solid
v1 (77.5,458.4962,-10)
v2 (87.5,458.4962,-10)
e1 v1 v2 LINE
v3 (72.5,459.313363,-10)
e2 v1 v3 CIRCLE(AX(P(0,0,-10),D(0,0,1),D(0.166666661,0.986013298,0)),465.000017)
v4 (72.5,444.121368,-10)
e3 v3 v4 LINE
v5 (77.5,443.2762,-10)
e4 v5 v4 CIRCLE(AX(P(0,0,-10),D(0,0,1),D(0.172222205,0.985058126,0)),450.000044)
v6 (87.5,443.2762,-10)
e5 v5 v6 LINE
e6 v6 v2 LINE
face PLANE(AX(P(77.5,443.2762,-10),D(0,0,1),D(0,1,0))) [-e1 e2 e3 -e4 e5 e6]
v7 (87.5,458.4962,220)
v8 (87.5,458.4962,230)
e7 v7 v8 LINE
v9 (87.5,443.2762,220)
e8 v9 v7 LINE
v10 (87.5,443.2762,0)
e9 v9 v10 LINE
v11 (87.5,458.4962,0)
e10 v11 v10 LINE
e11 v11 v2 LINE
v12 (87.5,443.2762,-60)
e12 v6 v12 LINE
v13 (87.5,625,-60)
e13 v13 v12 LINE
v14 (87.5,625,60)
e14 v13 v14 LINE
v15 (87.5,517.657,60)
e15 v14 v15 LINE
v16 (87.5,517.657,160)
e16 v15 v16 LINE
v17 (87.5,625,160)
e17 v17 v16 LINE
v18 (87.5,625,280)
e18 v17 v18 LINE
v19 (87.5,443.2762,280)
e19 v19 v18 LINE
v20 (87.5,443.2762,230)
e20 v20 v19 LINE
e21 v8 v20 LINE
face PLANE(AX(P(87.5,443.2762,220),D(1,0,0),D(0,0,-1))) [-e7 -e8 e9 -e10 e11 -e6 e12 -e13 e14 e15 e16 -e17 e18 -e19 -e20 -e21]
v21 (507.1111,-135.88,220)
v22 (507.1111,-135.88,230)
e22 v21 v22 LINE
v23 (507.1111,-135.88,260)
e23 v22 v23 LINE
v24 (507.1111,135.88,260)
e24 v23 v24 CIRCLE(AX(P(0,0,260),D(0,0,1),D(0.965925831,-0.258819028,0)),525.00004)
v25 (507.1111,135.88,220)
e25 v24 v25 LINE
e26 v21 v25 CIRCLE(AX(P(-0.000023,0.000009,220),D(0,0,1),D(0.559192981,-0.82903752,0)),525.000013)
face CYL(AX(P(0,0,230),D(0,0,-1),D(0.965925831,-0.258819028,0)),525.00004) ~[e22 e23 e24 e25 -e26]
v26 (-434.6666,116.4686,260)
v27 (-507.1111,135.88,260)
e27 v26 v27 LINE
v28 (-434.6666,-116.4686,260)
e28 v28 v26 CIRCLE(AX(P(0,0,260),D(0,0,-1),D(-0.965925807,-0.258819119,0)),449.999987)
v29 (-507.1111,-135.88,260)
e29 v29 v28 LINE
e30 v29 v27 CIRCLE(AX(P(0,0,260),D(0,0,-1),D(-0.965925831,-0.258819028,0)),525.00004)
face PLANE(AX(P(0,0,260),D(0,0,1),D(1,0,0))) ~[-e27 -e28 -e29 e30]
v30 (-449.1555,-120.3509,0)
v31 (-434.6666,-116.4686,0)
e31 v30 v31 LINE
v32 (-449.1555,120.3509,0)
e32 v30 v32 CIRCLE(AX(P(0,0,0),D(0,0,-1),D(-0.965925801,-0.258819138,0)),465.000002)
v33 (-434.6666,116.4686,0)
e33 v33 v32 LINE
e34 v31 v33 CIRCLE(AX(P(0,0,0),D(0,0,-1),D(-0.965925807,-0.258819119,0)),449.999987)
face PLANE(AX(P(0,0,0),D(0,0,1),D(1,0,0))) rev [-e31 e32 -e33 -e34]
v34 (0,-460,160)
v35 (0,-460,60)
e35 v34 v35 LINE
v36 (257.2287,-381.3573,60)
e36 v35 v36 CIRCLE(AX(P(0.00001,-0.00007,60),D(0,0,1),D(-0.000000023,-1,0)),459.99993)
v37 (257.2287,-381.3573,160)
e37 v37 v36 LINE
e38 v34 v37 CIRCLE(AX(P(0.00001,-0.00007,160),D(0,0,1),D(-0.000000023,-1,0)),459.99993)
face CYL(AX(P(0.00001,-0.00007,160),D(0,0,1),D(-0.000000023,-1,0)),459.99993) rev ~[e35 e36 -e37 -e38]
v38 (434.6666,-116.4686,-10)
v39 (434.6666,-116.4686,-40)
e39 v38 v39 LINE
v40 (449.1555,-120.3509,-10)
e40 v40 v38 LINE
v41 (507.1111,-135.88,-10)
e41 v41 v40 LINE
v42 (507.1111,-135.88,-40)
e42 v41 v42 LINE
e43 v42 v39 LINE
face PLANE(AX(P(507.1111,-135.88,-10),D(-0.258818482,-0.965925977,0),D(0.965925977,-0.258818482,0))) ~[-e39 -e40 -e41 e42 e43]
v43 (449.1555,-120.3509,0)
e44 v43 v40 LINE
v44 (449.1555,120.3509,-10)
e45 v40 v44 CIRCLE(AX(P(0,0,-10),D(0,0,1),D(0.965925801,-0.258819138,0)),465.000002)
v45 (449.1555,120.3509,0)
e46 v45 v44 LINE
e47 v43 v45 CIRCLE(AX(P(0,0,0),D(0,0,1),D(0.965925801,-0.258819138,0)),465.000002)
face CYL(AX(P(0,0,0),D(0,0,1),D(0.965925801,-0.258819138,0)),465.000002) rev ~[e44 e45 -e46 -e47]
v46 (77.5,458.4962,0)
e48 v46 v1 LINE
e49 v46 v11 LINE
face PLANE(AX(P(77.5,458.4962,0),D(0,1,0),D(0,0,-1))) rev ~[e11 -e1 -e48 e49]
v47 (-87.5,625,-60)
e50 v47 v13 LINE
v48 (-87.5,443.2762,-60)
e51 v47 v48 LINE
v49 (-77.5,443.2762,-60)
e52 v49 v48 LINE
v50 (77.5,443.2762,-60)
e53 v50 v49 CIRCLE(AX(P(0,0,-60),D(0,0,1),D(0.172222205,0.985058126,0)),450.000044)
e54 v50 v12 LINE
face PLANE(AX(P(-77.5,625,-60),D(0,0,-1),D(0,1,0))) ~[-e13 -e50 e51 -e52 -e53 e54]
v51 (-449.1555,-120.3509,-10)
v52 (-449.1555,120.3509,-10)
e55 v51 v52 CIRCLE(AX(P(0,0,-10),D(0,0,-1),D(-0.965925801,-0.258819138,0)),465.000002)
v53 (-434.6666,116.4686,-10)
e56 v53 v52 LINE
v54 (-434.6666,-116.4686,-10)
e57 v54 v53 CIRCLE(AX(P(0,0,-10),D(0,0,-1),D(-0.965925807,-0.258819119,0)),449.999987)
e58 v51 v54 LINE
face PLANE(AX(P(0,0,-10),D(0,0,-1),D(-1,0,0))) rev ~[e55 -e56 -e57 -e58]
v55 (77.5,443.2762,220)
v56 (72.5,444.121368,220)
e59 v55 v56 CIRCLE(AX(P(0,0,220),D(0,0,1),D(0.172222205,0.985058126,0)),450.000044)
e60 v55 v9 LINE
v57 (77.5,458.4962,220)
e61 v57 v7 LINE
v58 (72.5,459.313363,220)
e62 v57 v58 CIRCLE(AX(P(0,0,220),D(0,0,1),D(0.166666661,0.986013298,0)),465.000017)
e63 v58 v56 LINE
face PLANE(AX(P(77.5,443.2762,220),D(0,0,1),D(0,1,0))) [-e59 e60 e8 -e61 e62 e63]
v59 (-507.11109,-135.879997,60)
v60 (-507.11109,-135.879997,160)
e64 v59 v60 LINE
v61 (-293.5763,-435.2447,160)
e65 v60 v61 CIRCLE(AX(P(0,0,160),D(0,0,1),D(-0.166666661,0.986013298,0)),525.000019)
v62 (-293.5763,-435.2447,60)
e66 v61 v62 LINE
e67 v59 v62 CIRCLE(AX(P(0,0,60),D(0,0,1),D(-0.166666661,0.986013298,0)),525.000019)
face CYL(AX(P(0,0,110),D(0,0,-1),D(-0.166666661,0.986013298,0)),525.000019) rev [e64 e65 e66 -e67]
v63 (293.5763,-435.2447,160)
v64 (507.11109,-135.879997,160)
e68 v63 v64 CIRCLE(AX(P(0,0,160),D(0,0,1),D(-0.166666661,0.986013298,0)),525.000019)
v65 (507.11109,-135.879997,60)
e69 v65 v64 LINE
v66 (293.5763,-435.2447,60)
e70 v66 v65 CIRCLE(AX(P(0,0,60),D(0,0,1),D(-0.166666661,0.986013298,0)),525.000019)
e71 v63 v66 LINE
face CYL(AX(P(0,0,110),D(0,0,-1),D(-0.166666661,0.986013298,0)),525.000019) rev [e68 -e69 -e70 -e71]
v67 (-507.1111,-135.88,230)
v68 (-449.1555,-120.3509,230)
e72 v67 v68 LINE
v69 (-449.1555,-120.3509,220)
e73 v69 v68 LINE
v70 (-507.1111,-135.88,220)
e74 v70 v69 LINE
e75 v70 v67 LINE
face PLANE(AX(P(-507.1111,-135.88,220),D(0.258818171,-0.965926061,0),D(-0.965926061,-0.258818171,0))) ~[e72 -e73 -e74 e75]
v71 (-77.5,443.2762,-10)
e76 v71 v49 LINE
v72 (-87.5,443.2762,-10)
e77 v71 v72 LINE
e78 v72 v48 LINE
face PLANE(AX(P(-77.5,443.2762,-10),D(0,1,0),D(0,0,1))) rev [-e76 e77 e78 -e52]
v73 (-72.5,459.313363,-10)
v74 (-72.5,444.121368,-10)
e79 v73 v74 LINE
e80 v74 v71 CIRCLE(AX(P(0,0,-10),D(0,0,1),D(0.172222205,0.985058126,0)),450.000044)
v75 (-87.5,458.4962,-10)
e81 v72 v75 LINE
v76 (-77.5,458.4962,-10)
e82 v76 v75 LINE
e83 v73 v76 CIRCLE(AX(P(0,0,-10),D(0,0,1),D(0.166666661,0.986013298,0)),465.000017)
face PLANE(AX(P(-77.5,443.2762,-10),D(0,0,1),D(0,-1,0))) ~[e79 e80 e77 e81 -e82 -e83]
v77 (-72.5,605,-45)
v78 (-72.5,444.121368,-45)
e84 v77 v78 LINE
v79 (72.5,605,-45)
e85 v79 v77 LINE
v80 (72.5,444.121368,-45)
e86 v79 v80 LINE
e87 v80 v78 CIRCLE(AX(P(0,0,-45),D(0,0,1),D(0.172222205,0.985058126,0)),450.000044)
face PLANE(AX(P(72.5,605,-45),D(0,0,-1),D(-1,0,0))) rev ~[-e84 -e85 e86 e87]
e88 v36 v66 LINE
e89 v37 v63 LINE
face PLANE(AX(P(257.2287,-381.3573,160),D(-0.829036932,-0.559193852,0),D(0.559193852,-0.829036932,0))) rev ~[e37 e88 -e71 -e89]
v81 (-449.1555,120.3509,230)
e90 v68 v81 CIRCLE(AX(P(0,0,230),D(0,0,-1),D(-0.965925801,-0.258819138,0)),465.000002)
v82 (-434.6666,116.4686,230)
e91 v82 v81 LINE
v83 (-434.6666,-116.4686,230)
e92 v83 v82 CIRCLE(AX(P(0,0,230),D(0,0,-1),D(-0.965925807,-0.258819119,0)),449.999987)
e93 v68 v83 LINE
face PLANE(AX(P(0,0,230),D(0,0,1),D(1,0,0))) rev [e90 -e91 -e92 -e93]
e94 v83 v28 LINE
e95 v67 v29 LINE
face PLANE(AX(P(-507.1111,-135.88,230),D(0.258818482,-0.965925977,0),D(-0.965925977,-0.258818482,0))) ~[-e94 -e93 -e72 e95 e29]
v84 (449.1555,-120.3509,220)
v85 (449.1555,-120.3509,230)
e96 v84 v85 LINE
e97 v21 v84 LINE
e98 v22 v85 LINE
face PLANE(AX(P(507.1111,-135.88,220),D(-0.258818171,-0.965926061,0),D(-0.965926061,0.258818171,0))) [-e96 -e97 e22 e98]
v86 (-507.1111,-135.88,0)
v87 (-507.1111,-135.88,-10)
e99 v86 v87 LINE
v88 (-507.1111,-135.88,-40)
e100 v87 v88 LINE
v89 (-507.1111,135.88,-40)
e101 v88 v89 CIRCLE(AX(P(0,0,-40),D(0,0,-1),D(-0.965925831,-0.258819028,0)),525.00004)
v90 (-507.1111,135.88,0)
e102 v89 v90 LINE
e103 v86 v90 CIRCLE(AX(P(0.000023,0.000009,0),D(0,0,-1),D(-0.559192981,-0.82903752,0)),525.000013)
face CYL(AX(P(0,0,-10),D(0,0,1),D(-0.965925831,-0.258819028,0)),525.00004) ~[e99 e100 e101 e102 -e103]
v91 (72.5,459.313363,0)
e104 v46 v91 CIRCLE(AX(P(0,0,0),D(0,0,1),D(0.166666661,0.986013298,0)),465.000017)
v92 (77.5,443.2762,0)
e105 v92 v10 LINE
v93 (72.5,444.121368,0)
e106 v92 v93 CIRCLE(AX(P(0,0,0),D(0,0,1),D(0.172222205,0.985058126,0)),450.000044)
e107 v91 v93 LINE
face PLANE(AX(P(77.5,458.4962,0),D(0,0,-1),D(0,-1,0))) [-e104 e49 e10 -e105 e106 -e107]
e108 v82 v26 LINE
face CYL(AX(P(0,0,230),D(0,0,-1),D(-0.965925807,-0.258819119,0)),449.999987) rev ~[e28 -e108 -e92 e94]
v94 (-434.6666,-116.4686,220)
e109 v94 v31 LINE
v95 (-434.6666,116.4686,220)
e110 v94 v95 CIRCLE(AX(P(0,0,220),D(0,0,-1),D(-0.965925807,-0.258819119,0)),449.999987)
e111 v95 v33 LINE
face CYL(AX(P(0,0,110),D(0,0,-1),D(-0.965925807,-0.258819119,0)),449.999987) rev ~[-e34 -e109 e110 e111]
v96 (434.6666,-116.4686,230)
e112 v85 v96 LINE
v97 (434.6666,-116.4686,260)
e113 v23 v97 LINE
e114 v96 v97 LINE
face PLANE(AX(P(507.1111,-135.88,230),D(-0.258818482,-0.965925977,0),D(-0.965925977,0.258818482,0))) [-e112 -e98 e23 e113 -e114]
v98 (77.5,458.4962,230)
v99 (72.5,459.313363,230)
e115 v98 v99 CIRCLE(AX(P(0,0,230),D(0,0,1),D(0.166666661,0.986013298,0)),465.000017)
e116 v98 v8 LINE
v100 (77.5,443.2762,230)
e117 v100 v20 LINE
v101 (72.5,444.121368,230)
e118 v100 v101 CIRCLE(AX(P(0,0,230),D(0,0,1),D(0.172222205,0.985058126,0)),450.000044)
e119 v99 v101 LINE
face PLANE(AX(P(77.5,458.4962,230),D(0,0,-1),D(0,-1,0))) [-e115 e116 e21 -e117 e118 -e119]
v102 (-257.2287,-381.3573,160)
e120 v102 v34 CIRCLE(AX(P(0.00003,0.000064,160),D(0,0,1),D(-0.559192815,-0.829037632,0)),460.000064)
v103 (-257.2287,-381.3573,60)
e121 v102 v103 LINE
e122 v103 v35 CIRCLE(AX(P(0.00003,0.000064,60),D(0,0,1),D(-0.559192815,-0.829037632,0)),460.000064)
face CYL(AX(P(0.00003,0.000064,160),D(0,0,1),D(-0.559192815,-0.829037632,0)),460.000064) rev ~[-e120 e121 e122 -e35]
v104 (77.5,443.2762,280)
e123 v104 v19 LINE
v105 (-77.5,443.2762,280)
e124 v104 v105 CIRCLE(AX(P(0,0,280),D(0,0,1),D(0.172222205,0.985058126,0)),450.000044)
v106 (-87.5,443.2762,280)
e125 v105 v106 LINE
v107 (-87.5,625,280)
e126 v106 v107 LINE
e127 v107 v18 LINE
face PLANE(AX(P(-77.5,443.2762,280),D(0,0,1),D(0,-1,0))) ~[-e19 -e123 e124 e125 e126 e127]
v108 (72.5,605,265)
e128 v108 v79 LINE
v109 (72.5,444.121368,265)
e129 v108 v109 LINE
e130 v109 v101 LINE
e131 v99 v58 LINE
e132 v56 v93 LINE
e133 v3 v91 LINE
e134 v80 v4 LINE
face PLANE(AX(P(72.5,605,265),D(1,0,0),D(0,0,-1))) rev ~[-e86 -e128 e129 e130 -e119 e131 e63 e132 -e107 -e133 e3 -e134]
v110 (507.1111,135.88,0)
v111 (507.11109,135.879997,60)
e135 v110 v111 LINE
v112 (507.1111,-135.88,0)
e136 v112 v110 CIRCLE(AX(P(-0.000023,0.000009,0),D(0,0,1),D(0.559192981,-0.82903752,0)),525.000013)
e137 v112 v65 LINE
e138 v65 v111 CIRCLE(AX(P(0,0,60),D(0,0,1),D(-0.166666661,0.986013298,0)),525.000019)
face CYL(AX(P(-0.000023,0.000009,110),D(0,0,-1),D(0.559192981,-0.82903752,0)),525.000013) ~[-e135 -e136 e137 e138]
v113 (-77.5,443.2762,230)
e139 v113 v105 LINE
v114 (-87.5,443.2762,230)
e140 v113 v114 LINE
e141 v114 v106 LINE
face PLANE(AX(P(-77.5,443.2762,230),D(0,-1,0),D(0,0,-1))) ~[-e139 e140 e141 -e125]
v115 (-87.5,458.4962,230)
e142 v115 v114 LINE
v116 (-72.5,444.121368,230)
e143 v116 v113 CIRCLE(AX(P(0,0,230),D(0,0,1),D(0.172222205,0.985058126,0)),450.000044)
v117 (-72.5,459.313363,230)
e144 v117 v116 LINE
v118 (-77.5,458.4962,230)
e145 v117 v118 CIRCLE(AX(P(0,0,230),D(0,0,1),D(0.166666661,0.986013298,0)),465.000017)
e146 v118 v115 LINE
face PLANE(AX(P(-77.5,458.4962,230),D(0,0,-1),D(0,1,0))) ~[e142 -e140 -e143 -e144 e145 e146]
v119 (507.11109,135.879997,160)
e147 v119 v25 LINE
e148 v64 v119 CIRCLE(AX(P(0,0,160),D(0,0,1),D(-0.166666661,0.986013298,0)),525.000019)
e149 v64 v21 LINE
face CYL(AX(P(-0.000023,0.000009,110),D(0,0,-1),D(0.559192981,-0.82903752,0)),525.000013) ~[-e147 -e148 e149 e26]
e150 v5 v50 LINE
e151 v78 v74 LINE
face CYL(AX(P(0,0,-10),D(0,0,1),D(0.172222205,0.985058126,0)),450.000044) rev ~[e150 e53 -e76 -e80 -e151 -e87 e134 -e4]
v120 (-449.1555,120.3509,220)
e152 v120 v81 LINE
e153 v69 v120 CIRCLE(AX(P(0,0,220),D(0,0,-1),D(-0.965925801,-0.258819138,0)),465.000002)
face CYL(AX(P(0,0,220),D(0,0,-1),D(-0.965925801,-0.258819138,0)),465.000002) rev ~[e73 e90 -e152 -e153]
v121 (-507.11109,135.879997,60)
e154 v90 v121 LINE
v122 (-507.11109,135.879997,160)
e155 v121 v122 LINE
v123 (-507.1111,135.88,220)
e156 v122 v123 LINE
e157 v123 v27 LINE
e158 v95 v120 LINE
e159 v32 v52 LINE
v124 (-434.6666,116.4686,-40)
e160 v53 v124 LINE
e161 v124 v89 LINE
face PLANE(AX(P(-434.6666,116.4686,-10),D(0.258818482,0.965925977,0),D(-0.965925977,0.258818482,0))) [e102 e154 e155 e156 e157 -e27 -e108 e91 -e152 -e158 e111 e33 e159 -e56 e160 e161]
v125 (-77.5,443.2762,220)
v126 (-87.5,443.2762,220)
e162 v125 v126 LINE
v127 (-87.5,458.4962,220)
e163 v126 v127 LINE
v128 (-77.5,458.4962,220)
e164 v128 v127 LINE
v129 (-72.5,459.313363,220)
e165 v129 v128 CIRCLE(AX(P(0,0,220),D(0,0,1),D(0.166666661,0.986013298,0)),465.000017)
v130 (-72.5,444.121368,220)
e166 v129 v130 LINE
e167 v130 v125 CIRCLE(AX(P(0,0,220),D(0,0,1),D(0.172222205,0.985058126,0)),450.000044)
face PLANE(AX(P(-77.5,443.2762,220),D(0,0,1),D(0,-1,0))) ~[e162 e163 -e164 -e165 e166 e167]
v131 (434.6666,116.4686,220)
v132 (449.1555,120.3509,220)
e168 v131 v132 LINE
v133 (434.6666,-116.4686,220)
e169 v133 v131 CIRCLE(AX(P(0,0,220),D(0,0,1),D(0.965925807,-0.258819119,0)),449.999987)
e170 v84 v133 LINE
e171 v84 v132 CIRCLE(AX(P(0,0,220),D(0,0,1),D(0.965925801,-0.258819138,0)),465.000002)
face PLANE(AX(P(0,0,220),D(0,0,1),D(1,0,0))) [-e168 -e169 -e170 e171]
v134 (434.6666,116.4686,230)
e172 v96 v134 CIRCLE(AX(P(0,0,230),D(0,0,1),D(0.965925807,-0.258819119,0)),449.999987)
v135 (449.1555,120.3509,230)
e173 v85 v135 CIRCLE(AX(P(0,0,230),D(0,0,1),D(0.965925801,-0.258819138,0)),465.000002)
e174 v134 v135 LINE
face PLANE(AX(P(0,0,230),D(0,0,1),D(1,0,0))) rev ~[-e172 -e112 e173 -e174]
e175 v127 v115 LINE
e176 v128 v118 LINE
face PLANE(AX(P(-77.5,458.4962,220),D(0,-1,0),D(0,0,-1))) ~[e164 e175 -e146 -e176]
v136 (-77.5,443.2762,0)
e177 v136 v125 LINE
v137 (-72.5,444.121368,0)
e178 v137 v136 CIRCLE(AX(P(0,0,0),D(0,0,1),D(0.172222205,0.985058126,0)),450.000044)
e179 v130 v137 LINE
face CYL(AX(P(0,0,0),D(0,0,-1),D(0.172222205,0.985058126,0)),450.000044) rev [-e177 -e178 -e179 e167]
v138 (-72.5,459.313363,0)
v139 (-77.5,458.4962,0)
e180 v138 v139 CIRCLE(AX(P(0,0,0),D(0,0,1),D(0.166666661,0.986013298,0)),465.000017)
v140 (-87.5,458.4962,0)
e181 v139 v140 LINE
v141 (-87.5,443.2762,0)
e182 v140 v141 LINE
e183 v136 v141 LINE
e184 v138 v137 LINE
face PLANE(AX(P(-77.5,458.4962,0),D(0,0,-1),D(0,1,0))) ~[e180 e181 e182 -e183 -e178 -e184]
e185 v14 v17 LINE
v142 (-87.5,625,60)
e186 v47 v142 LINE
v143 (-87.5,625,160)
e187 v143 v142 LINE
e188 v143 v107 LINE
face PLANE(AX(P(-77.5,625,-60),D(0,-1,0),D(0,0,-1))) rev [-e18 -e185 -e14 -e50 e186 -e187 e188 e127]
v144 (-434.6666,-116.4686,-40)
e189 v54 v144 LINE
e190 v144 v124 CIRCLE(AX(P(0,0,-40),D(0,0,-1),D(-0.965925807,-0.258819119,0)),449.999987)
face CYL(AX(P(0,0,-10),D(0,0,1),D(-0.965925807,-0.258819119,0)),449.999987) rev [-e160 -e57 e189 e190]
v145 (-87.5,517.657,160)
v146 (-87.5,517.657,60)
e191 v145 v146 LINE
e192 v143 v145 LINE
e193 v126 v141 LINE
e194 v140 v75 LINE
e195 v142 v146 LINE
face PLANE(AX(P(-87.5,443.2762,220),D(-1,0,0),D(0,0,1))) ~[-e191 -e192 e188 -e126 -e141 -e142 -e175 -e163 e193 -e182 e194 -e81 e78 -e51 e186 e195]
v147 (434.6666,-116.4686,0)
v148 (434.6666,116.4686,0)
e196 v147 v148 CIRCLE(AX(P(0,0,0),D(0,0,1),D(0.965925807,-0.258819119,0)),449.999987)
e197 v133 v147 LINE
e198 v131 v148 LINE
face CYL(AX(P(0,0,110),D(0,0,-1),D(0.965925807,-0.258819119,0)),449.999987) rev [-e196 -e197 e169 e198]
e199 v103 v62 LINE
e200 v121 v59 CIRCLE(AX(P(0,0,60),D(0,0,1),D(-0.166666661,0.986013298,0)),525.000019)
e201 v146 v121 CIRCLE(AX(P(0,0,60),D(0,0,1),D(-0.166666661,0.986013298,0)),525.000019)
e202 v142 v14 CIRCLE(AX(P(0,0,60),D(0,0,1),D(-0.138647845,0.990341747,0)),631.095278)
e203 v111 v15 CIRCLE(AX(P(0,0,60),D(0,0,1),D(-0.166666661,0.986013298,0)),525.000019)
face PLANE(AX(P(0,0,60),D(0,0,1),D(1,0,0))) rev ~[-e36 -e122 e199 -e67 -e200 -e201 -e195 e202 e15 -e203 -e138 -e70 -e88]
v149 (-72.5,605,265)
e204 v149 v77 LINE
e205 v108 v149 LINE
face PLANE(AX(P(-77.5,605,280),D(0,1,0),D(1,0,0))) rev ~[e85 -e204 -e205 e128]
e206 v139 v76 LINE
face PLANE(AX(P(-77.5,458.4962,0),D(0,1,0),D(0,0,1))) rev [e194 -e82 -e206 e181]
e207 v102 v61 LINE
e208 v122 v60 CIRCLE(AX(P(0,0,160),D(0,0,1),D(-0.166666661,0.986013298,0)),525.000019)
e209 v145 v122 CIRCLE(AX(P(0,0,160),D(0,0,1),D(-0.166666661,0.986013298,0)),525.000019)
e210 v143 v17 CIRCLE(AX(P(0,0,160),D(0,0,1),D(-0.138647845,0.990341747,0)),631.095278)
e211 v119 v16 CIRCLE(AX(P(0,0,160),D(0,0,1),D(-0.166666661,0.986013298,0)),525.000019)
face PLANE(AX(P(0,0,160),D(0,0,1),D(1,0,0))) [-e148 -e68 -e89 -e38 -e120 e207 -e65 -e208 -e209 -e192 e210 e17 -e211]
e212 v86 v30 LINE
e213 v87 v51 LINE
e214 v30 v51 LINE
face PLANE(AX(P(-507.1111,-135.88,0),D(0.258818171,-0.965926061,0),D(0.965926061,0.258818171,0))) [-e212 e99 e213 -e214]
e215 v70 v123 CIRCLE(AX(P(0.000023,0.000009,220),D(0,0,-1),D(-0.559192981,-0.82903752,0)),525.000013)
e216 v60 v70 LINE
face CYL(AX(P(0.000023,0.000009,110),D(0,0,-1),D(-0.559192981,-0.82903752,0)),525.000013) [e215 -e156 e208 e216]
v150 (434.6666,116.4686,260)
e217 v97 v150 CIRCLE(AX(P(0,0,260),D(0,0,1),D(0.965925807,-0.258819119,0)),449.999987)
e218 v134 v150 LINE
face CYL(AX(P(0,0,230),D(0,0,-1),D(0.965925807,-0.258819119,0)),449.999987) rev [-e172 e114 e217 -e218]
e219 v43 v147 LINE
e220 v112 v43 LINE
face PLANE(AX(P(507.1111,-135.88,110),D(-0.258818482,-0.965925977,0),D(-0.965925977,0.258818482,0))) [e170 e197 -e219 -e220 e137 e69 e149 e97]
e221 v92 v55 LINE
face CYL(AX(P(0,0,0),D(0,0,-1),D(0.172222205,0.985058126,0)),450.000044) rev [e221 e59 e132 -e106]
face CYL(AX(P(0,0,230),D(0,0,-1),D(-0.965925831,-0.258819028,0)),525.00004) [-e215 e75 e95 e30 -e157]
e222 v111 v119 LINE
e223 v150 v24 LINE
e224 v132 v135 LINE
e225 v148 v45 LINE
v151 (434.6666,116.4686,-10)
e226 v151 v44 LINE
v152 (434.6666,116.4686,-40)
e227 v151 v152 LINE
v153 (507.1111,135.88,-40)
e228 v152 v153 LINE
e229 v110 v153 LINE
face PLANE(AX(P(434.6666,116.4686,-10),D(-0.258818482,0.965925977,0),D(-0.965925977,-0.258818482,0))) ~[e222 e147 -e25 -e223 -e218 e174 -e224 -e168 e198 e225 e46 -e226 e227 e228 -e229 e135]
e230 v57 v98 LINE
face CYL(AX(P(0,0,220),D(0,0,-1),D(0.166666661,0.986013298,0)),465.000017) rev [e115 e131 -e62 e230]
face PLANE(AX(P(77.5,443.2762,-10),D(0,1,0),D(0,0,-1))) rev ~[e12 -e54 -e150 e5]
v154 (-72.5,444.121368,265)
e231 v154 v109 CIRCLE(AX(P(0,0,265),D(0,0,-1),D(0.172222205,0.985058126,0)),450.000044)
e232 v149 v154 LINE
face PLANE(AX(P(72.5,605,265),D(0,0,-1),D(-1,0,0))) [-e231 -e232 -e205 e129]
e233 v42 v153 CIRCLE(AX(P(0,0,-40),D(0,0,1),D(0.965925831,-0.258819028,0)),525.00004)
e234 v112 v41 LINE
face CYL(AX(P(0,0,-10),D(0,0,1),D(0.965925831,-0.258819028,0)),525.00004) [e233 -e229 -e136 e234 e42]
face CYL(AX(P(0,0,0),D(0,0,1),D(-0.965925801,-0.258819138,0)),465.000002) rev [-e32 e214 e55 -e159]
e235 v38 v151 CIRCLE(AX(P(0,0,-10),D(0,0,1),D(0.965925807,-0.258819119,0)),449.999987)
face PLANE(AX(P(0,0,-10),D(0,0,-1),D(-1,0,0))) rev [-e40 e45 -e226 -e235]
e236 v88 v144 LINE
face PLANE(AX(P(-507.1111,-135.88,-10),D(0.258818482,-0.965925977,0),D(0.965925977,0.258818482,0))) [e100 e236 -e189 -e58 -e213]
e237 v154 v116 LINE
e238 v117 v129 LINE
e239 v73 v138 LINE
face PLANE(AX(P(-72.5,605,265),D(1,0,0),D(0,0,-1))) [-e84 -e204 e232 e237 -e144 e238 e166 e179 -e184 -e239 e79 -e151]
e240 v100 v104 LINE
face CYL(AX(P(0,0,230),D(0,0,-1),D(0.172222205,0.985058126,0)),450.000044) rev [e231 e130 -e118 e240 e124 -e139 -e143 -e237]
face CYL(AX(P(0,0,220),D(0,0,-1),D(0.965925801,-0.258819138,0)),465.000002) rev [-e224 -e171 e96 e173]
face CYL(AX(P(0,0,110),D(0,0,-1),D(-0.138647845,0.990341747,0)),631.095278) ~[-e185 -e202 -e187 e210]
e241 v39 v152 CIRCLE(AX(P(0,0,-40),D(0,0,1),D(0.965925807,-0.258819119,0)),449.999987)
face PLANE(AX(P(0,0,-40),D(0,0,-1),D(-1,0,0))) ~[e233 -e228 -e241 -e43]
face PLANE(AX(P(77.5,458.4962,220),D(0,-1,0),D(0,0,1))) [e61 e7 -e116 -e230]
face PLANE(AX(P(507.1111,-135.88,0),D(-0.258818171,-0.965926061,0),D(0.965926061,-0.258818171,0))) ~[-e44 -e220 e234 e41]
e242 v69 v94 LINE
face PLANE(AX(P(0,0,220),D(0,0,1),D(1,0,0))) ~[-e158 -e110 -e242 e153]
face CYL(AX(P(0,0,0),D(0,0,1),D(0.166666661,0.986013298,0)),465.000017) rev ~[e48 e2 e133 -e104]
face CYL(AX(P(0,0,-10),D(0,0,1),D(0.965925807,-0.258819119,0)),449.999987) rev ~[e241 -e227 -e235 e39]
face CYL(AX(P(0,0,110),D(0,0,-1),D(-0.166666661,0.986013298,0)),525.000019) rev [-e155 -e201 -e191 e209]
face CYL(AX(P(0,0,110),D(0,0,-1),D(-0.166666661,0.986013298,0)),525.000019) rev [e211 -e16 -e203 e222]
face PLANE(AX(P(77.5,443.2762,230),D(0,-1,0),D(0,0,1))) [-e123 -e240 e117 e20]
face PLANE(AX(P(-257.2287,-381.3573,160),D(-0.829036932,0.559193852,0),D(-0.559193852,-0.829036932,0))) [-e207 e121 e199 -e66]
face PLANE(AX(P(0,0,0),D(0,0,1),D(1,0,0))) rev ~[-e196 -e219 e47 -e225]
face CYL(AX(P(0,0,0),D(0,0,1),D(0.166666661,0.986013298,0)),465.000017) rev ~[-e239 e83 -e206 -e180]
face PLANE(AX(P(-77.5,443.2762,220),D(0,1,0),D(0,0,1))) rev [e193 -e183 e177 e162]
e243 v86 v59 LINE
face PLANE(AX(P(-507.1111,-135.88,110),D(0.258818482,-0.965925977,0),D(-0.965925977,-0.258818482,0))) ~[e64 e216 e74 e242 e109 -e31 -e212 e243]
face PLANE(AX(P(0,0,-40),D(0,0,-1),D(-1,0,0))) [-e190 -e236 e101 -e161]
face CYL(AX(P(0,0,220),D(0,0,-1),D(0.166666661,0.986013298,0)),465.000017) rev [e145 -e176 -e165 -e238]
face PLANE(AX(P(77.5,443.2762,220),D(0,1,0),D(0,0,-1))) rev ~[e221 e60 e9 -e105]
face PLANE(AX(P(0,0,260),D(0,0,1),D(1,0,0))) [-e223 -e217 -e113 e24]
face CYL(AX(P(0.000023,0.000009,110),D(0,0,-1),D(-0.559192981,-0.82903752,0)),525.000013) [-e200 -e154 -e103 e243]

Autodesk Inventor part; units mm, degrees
sketch "Sketch1" plane through (0, 0, 0) normal (0, 0, 1) x (1, 0, 0)
  line L0 (0, 450) -> (0, 610) construction
  line L1 (-77.5, 610) -> (-77.5, 443.2762)
  line L2 (77.5, 610) -> (77.5, 443.2762)
  arc A0 (77.5, 443.2762) -> (-77.5, 443.2762) centre (0, 0) ccw
  line L3 (-77.5, 610) -> (-77.5, 625)
  line L4 (-77.5, 625) -> (77.5, 625)
  line L5 (77.5, 625) -> (77.5, 610)
  dimension "d7" = 15
extrude "Extrusion1" add sketch "Sketch1" along normal blind 220
sketch "Sketch2" plane through (0, 0, 220) normal (0, 0, 1) x (1, 0, 0)
  arc A0 (77.5, 443.2762) -> (-77.5, 443.2762) centre (0, 0) ccw projected
  line L0 (77.5, 443.2762) -> (77.5, 625) projected
  line L1 (77.5, 458.4962) -> (77.5, 625)
  line L2 (77.5, 625) -> (-77.5, 625)
  line L3 (-77.5, 625) -> (-77.5, 458.4962)
  arc A1 (77.5, 458.4962) -> (-77.5012, 458.496) centre (0, 0) ccw
  dimension "d12" = 465
extrude "Extrusion2" add sketch "Sketch2" along normal blind 10
sketch "Sketch3" plane through (0, 0, 230) normal (0, 0, 1) x (1, 0, 0)
  arc A0 (77.5, 443.2762) -> (-77.5, 443.2762) centre (0, 0) ccw projected
  arc A1 (77.5, 443.2762) -> (-77.5, 443.2762) centre (0, 0) ccw
  line L0 (-77.5, 625) -> (-77.5, 443.2762) projected
  line L1 (-77.5, 443.2762) -> (-77.5, 625)
  line L2 (-77.5, 625) -> (77.5, 625)
  line L3 (77.5, 625) -> (77.5, 443.2762)
extrude "Extrusion3" add sketch "Sketch3" along normal blind 50
ref_plane "Work Plane1" through (0, 0, 110) normal (0, 0, 1) x (1, 0, 0)
mirror "Mirror1" about plane through (0, 0, 110) normal (0, 0, 1) of "Extrusion2", "Extrusion3"
ref_plane "Work Plane2" through (-77.5, 605, 280) normal (0, 1, 0) x (1, 0, 0)
sketch "Sketch4" plane through (-77.5, 605, 280) normal (0, 1, 0) x (1, 0, 0)
  line L0 (5, 15) -> (5, 325)
  line L1 (150, 15) -> (150, 325)
  line L2 (155, 340) -> (155, 0) projected
  line L3 (150, 15) -> (5, 15)
  line L4 (150, 325) -> (5, 325)
  point P0 (77.5, 280)
extrude "Extrusion4" cut sketch "Sketch4" against normal up to next
sketch "Sketch5" plane through (77.5, 443.2762, 220) normal (1, 0, 0) x (0, 0, -1)
  line L0 (280, 181.7238) -> (-60, 181.7238) projected
  line L1 (-60, 181.7238) -> (280, 181.7238)
  line L2 (-10, 0) -> (-60, 0) projected
  line L3 (-60, 0) -> (-60, 181.7238)
  line L4 (230, 0) -> (280, 0) projected
  line L5 (280, 181.7238) -> (280, 0) projected
  line L6 (280, 0) -> (280, 181.7238)
  line L7 (230, 0) -> (280, 0)
  line L8 (220, 15.22) -> (230, 15.22) projected
  line L9 (230, 0) -> (230, 15.22)
  line L10 (230, 15.22) -> (220, 15.22)
  line L11 (220, 15.22) -> (220, 0)
  line L12 (0, 16.0372) -> (0, 15.22) projected
  line L13 (0, 0) -> (0, 15.22)
  line L14 (0, 15.22) -> (-10, 15.22) projected
  line L15 (0, 15.22) -> (-10, 15.22)
  line L16 (-10, 15.22) -> (-10, 0)
  line L17 (-60, 0) -> (-10, 0)
  line L18 (0, 0) -> (220, 0)
  point P0 (220, -443.2762)
extrude "Extrusion5" add sketch "Sketch5" along normal blind 10
mirror "Mirror2" about plane through (0, 0, 0) normal (1, 0, 0) of "Extrusion5"
ref_plane "Work Plane4" through (0, 0, 110) normal (0, 0, 1) x (1, 0, 0)
sketch "Sketch7" plane through (0, 0, 110) normal (0, 0, 1) x (1, 0, 0)
  line L0 (87.5, 625) -> (87.5, 443.2762) projected
  arc A0 (-87.5, 625) -> (87.5, 625) centre (0, 0) ccw
  arc A1 (-87.5, 517.657) -> (87.5, 517.657) centre (0, 0) ccw
  line L1 (87.5, 517.657) -> (87.5, 625)
  line L2 (-87.5, 625) -> (-87.5, 517.657)
  dimension "d20" = 1050
extrude "Extrusion6" add sketch "Sketch7" along normal mid plane 100
sketch "Sketch8" plane through (0, 0, 160) normal (0, 0, 1) x (1, 0, 0)
  line L0 (0, 0) -> (-251.6368, -373.0669) construction
  line L1 (0, 0) -> (0, -450) construction
  line L2 (0, 0) -> (251.6368, -373.0669) construction
  line L3 (0, 0) -> (0, -450) construction
  line L4 (257.2287, -381.3573) -> (293.5763, -435.2447)
  arc A0 (-87.5, 517.657) -> (87.5, 517.657) centre (0, 0) ccw projected
  line L5 (-257.2287, -381.3573) -> (-293.5763, -435.2447)
  arc A1 (-293.5763, -435.2447) -> (293.5763, -435.2447) centre (0, 0) ccw
  arc A2 (0, -460) -> (257.2287, -381.3573) centre (0, 0) ccw
  arc A3 (-257.2287, -381.3573) -> (0, -460) centre (0, 0) ccw
  dimension "d24" = 34
  dimension "d25" = 34
  dimension "d28" = 450
  dimension "d29" = 460
extrude "Extrusion7" add sketch "Sketch8" against normal blind 100
sketch "Sketch9" plane through (0, 0, 110) normal (0, 0, 1) x (1, 0, 0)
  arc A0 (293.5763, -435.2447) -> (87.5, 517.657) centre (0, 0) ccw projected
  arc A1 (507.1111, -135.88) -> (507.1111, 135.88) centre (0, 0) ccw
  line L0 (0, 0) -> (507.1111, 135.88) construction
  line L1 (0, 0) -> (525, 0) construction
  line L2 (0, 0) -> (507.1111, -135.88) construction
  arc A2 (434.6666, -116.4686) -> (434.6666, 116.4686) centre (0, 0) ccw
  line L3 (0, 0) -> (434.6666, 116.4686) construction
  line L4 (0, 0) -> (450, 0) construction
  line L5 (0, 0) -> (434.6666, -116.4686) construction
  line L6 (434.6666, 116.4686) -> (507.1111, 135.88)
  line L7 (507.1111, -135.88) -> (434.6666, -116.4686)
  dimension "d30" = 15
  dimension "d31" = 30
  dimension "d32" = 450
  dimension "d33" = 15
  dimension "d34" = 30
extrude "Extrusion8" add sketch "Sketch9" along normal mid plane 220
sketch "Sketch10" plane through (0, 0, 220) normal (0, 0, 1) x (1, 0, 0)
  line L0 (507.1111, 135.88) -> (434.6666, 116.4686) projected
  arc A0 (449.1555, -120.3509) -> (449.1555, 120.3509) centre (0, 0) ccw
  arc A1 (507.1111, -135.88) -> (507.1111, 135.88) centre (0, 0) ccw projected
  arc A2 (507.1111, -135.88) -> (507.1111, 135.88) centre (0, 0) ccw
  line L1 (449.1555, 120.3509) -> (507.1111, 135.88)
  line L2 (507.1111, -135.88) -> (449.1555, -120.3509)
  dimension "d37" = 465
extrude "Extrusion9" add sketch "Sketch10" along normal blind 10
sketch "Sketch11" plane through (0, 0, 230) normal (0, 0, 1) x (1, 0, 0)
  arc A0 (434.6666, -116.4686) -> (434.6666, 116.4686) centre (0, 0) ccw projected
  line L0 (434.6666, 116.4686) -> (507.1111, 135.88) projected
  arc A1 (434.6666, -116.4686) -> (434.6666, 116.4686) centre (0, 0) ccw
  arc A2 (507.1111, -135.88) -> (507.1111, 135.88) centre (0, 0) ccw projected
  arc A3 (507.1111, -135.88) -> (507.1111, 135.88) centre (0, 0) ccw
  line L1 (507.1111, 135.88) -> (434.6666, 116.4686)
  line L2 (507.1111, -135.88) -> (434.6666, -116.4686) projected
  line L3 (507.1111, -135.88) -> (434.6666, -116.4686)
extrude "Extrusion10" add sketch "Sketch11" along normal blind 30
mirror "Mirror3" about plane through (0, 0, 110) normal (0, 0, 1) of "Extrusion9", "Extrusion10"
mirror "Mirror4" about plane through (0, 0, 0) normal (1, 0, 0) of "Extrusion8", "Extrusion9", "Extrusion10", "Mirror3"
ref_plane "Work Plane3" through (0, 0, 0) normal (1, 0, 0) x (0, 1, 0)
properties part number "source holder"
